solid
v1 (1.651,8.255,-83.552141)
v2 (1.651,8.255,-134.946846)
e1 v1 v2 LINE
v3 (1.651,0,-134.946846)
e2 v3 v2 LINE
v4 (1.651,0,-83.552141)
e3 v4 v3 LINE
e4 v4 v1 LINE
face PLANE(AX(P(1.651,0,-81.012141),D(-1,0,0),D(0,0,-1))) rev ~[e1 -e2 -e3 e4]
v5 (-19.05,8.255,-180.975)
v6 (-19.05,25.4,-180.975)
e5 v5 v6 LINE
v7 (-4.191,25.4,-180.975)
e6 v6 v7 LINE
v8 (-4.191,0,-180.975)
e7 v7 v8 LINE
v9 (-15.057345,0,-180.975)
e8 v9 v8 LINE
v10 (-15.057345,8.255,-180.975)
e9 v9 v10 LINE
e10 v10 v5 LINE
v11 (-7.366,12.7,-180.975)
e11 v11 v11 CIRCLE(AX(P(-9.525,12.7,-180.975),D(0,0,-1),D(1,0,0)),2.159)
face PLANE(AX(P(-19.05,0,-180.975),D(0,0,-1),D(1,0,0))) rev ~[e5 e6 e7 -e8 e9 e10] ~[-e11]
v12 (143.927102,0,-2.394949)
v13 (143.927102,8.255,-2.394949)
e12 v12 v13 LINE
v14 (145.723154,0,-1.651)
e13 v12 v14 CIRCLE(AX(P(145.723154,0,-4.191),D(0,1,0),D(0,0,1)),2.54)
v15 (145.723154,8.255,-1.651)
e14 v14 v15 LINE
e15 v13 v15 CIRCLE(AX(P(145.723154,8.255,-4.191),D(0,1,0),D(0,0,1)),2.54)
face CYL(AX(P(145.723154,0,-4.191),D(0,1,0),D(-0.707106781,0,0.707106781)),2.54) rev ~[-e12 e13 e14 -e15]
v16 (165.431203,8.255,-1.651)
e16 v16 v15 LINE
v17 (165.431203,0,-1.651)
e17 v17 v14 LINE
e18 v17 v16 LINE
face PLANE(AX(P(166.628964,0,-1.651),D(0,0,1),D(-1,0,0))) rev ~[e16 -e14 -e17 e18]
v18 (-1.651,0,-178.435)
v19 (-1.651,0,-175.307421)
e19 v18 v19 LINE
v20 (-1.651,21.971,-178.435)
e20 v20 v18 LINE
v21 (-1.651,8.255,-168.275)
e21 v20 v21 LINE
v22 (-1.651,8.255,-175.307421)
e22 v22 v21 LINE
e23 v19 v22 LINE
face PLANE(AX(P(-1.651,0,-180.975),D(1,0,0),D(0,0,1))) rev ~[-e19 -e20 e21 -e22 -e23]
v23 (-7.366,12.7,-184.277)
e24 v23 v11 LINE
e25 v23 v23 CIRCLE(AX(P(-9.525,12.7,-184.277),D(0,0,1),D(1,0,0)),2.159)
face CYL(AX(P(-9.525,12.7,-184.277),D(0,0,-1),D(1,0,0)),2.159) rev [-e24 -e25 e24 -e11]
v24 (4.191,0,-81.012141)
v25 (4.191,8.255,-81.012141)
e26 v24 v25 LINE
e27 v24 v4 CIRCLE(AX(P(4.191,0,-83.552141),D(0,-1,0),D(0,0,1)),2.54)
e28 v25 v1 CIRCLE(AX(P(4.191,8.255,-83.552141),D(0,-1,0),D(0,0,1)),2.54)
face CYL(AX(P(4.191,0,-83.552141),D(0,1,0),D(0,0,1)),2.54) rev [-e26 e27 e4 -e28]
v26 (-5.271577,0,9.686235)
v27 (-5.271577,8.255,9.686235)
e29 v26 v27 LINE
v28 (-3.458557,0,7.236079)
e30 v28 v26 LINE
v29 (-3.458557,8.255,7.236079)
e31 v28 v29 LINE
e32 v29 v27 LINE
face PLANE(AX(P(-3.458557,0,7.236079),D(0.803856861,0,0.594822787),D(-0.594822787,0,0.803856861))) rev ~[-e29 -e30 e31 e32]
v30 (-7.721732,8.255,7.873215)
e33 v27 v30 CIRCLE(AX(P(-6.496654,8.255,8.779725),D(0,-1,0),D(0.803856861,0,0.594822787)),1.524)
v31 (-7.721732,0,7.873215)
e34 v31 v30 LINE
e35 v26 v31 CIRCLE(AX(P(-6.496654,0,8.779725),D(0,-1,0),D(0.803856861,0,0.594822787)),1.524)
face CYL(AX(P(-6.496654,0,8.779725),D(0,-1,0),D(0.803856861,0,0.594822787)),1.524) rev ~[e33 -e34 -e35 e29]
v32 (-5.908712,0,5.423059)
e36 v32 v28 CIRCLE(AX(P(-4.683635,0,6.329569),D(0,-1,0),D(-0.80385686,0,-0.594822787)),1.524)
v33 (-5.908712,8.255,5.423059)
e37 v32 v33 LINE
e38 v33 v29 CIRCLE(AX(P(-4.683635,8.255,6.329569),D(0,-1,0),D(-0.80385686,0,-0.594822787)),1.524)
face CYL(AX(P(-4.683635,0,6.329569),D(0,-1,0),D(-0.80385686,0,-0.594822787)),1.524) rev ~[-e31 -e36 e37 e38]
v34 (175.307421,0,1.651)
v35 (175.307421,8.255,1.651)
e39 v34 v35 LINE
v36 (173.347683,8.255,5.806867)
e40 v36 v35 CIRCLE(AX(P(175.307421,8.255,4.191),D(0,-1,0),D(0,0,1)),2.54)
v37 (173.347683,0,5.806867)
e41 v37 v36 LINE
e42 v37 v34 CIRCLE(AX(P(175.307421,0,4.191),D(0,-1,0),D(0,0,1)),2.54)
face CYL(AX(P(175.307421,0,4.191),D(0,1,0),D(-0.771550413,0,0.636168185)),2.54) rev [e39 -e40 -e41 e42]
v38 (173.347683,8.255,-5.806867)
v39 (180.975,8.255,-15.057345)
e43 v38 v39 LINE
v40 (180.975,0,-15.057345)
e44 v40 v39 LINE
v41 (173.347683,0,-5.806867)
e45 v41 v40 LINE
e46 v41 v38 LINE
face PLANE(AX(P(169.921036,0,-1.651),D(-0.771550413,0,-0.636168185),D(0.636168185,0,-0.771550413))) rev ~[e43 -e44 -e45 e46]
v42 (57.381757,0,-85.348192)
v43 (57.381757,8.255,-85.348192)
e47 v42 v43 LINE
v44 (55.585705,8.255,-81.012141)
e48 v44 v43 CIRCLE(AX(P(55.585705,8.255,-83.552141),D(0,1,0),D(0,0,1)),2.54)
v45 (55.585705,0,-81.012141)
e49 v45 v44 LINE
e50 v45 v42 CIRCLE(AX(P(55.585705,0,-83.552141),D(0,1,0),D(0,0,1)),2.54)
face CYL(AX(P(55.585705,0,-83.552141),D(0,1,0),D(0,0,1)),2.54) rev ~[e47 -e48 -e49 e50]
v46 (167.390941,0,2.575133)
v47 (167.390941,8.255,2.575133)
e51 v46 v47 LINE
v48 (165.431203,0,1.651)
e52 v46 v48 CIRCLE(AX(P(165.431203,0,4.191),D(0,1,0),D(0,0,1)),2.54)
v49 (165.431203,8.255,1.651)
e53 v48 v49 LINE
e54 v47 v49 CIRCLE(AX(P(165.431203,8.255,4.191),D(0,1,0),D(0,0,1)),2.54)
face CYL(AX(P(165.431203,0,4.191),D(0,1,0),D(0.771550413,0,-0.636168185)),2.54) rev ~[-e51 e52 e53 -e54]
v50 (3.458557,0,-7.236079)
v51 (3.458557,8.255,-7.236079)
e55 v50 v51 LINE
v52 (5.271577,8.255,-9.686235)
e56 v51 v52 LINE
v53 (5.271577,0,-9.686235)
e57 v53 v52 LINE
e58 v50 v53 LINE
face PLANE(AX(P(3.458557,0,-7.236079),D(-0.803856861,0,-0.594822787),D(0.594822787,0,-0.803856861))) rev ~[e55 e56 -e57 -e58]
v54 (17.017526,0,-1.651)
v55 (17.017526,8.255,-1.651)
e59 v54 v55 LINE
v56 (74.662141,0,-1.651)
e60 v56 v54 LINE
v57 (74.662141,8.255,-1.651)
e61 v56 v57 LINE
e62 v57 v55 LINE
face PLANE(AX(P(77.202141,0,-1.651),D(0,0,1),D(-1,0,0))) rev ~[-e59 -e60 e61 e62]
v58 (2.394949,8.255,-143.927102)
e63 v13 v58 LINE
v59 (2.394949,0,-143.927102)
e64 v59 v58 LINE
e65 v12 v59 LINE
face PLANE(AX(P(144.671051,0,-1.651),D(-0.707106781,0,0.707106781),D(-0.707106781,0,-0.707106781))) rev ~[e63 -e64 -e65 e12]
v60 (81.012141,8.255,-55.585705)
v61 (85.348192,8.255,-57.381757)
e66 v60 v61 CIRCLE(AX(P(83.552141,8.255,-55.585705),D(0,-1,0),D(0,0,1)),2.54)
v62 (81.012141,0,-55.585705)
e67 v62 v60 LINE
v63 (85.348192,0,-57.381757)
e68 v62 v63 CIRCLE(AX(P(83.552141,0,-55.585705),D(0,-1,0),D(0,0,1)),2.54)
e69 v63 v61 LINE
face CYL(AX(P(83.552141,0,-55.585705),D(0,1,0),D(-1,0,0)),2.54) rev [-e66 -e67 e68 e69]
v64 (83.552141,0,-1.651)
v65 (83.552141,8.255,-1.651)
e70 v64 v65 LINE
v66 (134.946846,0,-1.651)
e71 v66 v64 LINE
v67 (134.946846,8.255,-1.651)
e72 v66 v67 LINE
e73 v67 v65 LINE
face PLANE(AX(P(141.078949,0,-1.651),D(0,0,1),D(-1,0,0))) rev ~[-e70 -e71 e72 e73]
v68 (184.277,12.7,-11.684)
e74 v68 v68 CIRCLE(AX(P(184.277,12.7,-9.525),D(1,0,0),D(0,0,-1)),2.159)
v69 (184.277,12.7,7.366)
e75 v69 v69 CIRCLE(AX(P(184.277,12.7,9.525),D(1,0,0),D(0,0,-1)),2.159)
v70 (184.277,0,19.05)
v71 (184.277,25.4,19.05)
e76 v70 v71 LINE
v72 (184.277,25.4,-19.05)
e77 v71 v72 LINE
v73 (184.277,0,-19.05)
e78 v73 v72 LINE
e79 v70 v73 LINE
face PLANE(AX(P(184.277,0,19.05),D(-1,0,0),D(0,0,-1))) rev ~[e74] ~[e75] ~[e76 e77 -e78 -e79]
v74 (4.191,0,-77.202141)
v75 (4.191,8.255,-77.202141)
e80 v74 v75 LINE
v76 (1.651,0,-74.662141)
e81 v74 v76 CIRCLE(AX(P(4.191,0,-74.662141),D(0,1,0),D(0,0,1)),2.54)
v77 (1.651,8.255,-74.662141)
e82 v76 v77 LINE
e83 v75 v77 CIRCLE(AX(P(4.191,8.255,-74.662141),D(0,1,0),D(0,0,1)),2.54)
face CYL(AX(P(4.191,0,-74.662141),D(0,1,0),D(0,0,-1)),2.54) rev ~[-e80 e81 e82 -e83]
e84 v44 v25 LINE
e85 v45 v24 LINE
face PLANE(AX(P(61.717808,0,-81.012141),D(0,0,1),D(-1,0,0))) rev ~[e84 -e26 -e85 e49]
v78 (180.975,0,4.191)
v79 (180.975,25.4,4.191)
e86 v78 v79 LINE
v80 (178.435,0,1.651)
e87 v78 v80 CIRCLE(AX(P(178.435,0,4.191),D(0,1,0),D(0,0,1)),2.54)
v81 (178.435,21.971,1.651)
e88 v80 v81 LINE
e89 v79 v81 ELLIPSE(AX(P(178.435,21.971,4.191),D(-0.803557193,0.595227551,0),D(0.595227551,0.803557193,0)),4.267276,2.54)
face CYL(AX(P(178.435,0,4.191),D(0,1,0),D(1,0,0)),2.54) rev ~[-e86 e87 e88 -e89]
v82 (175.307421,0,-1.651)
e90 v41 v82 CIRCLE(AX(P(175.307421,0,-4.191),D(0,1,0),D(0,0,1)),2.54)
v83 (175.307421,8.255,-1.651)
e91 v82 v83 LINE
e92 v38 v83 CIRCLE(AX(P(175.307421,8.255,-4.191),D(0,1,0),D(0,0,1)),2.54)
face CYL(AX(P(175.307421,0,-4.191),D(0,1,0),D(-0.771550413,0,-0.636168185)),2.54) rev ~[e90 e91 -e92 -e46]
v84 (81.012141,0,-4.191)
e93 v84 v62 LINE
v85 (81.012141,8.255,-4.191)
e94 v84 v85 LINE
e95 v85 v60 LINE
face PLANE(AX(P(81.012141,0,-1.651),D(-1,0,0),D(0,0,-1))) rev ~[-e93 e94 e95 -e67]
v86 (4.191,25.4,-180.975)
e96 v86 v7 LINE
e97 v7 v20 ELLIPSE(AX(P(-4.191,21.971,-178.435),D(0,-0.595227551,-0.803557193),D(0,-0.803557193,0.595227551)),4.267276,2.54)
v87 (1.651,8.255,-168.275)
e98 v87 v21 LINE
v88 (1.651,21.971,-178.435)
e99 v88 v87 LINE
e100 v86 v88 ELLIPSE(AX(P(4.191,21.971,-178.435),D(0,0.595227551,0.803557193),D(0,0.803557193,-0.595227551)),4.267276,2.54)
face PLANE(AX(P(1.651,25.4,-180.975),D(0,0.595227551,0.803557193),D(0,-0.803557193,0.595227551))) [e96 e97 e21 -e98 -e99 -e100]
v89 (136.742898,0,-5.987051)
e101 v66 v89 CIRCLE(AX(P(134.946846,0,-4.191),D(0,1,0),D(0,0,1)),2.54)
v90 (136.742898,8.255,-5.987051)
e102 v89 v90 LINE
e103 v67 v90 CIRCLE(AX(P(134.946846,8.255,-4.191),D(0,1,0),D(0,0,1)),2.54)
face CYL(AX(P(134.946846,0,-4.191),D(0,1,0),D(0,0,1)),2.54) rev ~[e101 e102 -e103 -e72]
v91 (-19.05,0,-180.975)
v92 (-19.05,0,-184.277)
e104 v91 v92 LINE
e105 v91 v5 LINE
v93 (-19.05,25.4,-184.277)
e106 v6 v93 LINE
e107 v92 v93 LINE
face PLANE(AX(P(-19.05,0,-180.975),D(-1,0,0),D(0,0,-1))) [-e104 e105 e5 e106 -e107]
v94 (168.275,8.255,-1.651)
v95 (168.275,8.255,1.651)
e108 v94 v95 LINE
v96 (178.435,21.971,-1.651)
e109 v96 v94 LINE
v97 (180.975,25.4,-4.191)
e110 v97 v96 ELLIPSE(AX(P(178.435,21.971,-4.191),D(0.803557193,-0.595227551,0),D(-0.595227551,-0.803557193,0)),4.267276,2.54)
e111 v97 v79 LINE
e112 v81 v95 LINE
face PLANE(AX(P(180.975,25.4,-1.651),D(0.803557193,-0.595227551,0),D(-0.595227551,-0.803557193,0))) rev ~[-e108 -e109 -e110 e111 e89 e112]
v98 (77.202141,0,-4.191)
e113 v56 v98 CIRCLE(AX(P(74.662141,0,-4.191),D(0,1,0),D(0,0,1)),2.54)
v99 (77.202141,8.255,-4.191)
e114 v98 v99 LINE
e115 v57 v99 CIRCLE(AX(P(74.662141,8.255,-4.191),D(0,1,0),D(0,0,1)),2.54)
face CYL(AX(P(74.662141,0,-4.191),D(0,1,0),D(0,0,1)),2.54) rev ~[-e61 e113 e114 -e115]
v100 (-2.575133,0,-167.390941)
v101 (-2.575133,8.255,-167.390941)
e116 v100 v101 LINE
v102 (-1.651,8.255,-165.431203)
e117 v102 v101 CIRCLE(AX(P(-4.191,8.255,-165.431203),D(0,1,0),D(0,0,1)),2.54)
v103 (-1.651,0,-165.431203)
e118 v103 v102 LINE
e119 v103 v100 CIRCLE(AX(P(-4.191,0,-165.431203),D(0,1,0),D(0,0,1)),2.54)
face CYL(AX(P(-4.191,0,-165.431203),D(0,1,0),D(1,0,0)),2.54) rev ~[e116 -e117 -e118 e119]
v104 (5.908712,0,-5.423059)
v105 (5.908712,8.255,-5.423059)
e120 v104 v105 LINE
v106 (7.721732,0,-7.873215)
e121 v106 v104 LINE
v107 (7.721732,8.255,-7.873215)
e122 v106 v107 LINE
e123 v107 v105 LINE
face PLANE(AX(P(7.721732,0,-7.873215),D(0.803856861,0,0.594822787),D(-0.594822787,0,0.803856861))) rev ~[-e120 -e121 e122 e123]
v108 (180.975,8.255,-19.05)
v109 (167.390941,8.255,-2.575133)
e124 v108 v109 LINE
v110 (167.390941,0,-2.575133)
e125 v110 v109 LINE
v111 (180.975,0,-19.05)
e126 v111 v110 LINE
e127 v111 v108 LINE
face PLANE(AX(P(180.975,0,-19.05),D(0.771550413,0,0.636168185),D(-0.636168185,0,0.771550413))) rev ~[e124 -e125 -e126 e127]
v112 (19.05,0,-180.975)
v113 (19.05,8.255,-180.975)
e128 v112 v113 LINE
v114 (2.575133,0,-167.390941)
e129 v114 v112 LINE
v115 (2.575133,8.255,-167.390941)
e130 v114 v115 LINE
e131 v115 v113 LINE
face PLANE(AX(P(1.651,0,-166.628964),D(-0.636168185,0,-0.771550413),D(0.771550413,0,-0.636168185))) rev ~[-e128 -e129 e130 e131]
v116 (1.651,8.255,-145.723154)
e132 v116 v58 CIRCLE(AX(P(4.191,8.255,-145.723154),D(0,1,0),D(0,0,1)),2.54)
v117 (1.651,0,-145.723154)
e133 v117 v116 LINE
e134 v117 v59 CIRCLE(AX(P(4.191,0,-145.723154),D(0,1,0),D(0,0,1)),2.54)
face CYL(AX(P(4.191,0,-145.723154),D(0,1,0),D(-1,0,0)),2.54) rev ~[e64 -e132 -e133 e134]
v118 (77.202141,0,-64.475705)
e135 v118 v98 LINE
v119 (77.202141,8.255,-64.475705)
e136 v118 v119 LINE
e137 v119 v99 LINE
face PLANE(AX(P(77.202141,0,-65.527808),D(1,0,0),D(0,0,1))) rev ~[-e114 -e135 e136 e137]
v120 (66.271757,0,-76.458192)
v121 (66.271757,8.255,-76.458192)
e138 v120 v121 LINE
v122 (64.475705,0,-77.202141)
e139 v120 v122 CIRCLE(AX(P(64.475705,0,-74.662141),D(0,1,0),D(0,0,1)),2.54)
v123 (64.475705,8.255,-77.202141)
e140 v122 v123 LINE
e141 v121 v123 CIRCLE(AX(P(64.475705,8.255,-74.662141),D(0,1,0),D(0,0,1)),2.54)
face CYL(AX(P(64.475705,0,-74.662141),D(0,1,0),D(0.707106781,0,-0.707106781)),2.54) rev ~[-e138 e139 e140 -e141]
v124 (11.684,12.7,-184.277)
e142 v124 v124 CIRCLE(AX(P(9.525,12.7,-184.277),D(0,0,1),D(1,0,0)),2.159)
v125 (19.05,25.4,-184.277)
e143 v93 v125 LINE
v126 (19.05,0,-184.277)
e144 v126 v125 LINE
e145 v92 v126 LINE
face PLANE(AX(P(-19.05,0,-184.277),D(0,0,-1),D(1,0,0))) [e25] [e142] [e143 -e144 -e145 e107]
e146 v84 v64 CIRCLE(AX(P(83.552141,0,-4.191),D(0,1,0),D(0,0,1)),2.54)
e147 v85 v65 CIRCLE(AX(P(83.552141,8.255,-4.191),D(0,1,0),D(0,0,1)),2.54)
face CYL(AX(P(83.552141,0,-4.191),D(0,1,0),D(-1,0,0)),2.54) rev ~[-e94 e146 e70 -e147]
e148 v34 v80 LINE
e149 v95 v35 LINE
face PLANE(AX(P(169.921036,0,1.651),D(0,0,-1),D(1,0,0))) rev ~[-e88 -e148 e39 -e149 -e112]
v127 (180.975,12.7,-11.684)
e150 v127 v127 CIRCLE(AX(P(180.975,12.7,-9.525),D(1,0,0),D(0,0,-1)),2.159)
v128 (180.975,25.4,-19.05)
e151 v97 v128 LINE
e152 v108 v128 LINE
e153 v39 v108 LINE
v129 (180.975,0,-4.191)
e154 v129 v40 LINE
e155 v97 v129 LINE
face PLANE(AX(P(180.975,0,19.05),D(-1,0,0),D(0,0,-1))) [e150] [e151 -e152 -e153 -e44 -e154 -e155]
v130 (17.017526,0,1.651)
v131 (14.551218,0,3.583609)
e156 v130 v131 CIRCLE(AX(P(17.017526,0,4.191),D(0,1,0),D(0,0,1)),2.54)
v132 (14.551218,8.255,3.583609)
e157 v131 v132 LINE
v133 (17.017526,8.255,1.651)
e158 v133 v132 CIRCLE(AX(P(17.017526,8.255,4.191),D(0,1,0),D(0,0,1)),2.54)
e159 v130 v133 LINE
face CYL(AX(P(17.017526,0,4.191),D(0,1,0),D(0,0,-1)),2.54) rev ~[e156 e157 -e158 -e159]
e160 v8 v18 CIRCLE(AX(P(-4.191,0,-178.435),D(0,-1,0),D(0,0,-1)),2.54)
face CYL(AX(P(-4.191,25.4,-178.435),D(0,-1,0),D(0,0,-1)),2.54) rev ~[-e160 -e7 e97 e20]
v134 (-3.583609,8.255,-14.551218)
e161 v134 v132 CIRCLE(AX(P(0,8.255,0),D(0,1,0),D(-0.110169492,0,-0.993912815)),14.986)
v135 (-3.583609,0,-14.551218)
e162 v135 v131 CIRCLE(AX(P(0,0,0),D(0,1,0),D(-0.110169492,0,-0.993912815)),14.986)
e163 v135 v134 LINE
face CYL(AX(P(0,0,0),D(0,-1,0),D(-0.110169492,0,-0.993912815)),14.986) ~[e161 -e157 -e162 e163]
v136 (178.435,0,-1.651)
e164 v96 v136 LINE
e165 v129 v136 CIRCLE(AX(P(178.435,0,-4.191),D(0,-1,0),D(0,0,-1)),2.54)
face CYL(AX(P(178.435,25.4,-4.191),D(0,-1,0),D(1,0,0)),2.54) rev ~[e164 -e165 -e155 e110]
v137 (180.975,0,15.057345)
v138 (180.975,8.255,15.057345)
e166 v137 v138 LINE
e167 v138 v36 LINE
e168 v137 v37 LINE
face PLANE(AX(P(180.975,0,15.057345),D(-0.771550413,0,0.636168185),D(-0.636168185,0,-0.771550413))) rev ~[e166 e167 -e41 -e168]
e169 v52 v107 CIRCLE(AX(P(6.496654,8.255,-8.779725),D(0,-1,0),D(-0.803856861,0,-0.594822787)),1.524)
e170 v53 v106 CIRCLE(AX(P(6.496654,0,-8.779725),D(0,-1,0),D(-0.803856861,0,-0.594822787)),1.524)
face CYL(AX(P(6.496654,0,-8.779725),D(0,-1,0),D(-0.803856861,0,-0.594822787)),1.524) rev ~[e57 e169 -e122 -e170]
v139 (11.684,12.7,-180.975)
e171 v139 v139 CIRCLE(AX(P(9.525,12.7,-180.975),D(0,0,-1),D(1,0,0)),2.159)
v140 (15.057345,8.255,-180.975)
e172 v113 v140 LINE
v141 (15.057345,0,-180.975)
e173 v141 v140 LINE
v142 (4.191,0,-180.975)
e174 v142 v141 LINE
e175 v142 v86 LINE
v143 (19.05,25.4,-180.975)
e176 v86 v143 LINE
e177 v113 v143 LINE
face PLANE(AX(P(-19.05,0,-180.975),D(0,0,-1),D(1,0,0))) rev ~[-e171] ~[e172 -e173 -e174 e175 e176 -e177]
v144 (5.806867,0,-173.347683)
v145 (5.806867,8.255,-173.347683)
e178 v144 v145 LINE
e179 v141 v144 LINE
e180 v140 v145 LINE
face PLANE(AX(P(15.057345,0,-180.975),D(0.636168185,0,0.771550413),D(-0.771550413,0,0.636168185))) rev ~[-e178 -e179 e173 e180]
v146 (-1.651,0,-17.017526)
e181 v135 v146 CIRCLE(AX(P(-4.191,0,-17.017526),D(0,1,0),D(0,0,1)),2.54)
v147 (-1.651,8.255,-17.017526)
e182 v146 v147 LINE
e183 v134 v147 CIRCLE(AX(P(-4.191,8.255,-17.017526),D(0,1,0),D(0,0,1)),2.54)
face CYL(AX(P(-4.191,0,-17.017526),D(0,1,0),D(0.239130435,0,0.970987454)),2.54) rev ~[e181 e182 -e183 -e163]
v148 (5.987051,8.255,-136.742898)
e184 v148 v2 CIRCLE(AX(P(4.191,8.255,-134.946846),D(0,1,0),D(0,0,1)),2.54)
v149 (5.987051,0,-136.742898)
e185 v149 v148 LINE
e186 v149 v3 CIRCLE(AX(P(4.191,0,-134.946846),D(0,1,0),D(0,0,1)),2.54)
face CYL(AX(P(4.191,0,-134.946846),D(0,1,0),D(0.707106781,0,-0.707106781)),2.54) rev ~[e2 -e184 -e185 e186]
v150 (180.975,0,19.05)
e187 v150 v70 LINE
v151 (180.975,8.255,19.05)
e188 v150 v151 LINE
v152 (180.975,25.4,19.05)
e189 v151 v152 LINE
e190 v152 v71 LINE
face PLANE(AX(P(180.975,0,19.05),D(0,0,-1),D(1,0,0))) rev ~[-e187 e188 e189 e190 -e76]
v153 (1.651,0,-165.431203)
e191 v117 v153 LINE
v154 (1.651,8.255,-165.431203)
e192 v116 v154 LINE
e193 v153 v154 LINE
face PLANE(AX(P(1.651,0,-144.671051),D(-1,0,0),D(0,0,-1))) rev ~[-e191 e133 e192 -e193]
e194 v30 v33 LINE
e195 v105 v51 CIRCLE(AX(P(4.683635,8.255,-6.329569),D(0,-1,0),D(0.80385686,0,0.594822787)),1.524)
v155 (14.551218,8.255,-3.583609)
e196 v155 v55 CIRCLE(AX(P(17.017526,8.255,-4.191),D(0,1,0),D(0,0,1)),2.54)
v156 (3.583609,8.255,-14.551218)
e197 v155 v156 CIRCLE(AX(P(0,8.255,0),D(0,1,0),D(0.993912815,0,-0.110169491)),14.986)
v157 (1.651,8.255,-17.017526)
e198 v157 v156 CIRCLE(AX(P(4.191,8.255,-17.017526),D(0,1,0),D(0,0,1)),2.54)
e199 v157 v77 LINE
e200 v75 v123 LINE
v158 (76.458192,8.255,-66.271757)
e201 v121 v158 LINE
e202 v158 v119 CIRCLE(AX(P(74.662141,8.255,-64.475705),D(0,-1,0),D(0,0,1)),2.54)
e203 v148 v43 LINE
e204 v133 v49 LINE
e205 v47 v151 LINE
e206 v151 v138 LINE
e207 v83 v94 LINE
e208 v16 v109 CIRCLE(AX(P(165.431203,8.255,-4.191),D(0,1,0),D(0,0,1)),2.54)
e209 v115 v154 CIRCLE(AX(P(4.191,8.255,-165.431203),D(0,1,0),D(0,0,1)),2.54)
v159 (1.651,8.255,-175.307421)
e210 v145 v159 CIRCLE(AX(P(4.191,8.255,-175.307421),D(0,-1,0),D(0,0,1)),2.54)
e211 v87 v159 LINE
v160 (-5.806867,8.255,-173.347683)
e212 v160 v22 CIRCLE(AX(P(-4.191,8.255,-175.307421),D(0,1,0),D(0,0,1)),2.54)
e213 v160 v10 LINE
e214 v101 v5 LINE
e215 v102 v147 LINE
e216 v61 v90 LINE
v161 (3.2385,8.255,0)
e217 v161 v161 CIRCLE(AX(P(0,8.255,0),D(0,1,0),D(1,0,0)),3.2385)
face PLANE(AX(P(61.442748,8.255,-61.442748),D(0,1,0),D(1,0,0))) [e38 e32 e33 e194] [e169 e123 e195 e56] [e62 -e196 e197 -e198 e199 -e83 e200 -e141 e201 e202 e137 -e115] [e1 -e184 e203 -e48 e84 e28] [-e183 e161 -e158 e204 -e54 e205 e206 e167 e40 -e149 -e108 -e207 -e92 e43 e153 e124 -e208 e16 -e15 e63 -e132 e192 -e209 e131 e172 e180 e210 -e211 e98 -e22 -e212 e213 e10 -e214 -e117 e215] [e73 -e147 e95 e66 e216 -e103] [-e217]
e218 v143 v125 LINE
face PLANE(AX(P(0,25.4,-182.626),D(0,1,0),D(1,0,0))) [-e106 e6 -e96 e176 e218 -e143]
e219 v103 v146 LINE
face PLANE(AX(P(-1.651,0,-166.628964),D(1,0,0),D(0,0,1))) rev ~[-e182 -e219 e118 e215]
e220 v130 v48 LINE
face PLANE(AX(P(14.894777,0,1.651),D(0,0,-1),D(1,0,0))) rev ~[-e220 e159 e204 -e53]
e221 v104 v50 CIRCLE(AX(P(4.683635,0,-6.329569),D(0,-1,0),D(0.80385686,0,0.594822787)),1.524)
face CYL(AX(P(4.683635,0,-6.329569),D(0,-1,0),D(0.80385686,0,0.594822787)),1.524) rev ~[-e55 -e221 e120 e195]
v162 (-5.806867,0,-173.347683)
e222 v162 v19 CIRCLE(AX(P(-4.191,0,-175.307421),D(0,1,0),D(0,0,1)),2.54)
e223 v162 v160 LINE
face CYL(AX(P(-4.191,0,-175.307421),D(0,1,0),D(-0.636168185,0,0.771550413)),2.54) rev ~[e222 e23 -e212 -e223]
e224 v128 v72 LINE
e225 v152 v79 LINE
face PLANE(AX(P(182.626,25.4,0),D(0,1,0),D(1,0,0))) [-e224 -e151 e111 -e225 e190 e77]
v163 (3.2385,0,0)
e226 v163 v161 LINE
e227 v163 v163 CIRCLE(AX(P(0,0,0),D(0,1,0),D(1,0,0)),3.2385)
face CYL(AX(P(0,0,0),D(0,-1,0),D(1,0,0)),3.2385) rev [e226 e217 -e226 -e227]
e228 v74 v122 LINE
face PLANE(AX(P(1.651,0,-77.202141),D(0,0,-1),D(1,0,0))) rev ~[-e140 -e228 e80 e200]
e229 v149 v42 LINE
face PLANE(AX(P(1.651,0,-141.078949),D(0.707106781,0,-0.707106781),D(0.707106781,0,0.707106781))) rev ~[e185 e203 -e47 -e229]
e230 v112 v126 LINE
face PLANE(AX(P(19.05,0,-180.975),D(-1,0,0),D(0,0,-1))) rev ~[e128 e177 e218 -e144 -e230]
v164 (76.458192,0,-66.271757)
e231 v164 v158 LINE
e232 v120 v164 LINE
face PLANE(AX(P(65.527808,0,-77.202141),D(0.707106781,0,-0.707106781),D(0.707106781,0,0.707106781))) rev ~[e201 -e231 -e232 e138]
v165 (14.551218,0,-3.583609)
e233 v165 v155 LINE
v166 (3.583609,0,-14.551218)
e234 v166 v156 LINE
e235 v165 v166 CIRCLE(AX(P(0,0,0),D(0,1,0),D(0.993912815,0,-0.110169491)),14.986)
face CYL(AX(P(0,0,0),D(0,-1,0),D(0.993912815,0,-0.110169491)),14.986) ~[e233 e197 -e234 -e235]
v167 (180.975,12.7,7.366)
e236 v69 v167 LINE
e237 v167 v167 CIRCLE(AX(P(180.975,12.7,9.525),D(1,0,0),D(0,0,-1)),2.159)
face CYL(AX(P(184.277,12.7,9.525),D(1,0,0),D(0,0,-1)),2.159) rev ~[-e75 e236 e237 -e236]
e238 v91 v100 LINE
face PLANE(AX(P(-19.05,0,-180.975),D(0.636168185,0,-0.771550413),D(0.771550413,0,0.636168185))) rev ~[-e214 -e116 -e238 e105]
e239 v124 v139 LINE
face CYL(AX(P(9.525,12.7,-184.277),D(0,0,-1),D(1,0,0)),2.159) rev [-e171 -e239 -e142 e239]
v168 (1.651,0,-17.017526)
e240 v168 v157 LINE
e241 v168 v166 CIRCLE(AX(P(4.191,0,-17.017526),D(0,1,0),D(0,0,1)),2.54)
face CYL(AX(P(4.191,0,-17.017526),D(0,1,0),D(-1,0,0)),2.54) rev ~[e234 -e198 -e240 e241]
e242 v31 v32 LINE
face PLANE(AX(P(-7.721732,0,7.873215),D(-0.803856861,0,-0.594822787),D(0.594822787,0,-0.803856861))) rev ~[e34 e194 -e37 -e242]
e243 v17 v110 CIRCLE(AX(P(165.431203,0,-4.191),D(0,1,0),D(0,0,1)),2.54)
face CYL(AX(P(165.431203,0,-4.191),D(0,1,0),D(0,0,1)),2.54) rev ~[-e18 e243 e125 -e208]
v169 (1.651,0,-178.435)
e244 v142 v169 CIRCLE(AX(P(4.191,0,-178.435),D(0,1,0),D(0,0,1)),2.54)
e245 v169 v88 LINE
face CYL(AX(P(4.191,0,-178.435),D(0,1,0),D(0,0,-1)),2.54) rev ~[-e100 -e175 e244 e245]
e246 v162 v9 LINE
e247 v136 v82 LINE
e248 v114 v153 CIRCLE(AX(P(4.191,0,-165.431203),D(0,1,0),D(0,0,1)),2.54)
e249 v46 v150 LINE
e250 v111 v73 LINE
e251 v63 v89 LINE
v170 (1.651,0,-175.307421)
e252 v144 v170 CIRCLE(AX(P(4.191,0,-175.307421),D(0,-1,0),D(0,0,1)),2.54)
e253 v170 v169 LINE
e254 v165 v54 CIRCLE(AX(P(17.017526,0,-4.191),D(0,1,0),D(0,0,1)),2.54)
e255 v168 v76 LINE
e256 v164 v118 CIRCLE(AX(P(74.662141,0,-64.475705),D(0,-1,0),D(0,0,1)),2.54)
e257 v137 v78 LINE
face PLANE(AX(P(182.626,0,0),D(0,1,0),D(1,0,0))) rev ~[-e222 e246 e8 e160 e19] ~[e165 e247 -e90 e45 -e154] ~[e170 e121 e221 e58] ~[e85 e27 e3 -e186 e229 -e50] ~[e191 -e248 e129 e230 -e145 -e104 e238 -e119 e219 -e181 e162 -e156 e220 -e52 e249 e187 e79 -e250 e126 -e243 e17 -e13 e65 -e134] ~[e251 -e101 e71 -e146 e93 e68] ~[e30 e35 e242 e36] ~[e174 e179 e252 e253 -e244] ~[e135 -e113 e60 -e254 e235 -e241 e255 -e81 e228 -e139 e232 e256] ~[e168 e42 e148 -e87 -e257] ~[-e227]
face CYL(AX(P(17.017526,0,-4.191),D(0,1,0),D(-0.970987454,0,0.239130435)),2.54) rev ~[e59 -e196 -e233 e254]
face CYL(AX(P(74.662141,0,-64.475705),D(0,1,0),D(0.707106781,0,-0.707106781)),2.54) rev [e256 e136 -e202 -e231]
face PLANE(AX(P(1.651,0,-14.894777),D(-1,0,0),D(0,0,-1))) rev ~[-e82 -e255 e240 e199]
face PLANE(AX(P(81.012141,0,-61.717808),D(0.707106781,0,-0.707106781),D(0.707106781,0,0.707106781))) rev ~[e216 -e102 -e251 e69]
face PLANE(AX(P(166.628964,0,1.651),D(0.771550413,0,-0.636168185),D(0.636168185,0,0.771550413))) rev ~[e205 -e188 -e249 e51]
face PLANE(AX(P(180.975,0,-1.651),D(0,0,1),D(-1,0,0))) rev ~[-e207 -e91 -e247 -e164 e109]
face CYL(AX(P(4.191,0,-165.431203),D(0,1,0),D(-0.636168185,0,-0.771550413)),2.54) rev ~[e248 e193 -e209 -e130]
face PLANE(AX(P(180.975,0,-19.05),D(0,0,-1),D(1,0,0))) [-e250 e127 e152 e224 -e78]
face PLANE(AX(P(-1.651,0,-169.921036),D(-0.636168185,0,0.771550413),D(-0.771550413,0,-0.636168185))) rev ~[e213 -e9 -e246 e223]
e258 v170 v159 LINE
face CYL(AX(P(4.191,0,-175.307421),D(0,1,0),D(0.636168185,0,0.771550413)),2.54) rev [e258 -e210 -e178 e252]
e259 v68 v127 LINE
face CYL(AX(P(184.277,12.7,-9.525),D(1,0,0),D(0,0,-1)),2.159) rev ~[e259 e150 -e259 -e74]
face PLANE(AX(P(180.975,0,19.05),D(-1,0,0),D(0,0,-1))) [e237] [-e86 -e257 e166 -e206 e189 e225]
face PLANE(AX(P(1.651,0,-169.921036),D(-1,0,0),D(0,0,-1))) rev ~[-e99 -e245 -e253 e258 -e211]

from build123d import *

# Parameters (mm, degrees)
SKETCH1_R           = 3.2385
BOSS_EXTRUDE1_DEPTH = 8.255
SKETCH3_W           = 3.302
SKETCH3_H           = 38.1
SKETCH3_W_2         = 38.1
SKETCH3_H_2         = 3.302
BOSS_EXTRUDE3_DEPTH = 25.4
SKETCH5_R           = 2.159
CUT_EXTRUDE1_DEPTH  = 204.327
SKETCH6_W           = 12.7
SKETCH6_H           = 3.302
BOSS_EXTRUDE5_DEPTH = 25.4
CUT_EXTRUDE2_DEPTH  = 25.4
SKETCH8_W           = 3.302
SKETCH8_H           = 12.7
BOSS_EXTRUDE6_DEPTH = 25.4
CUT_EXTRUDE3_DEPTH  = 25.4
FILLET1_R           = 2.54


with BuildPart() as part:
    # Sketch1 → Boss-Extrude1 (new body)
    with BuildSketch(Plane(origin=(0, 0, 0), x_dir=(1, 0, 0), z_dir=(0, 1, 0))):
        with BuildLine():
            Line((-1.651, 166.628963684), (-1.651, 14.89477744))
            ThreePointArc((-1.651, 14.89477744), (-10.596702223, -10.596702223), (14.89477744, -1.651))
            Line((14.89477744, -1.651), (166.628963684, -1.651))
            Line((166.628963684, -1.651), (180.975, -19.05))
            Line((180.975, -19.05), (180.975, -15.057345133))
            Line((180.975, -15.057345133), (169.921036316, -1.651))
            Line((169.921036316, -1.651), (180.975, -1.651))
            Line((180.975, -1.651), (180.975, 1.651))
            Line((180.975, 1.651), (169.921036316, 1.651))
            Line((169.921036316, 1.651), (180.975, 15.057345133))
            Line((180.975, 15.057345133), (180.975, 19.05))
            Line((180.975, 19.05), (166.628963684, 1.651))
            Line((166.628963684, 1.651), (144.671051224, 1.651))
            Line((144.671051224, 1.651), (1.651, 144.671051224))
            Line((1.651, 144.671051224), (1.651, 166.628963684))
            Line((1.651, 166.628963684), (19.05, 180.975))
            Line((19.05, 180.975), (15.057345133, 180.975))
            Line((15.057345133, 180.975), (1.651, 169.921036316))
            Line((1.651, 169.921036316), (1.651, 180.975))
            Line((1.651, 180.975), (-1.651, 180.975))
            Line((-1.651, 180.975), (-1.651, 169.921036316))
            Line((-1.651, 169.921036316), (-15.057345133, 180.975))
            Line((-15.057345133, 180.975), (-19.05, 180.975))
            Line((-19.05, 180.975), (-1.651, 166.628963684))
        make_face()
        with BuildLine():
            Line((-7.721732332, -7.873214705), (-5.908712478, -5.423058993))
            ThreePointArc((-5.908712478, -5.423058993), (-3.777124696, -5.104491065), (-3.458556767, -7.236078848))
            Line((-3.458556767, -7.236078848), (-5.271576621, -9.686234559))
            ThreePointArc((-5.271576621, -9.686234559), (-7.403164404, -10.004802487), (-7.721732332, -7.873214705))
        make_face(mode=Mode.SUBTRACT)
        Circle(SKETCH1_R, mode=Mode.SUBTRACT)
        with BuildLine():
            ThreePointArc((5.908712478, 5.423058993), (3.777124696, 5.104491065), (3.458556767, 7.236078848))
            Line((3.458556767, 7.236078848), (5.271576621, 9.686234559))
            ThreePointArc((5.271576621, 9.686234559), (7.403164404, 10.004802487), (7.721732332, 7.873214705))
            Line((7.721732332, 7.873214705), (5.908712478, 5.423058993))
        make_face(mode=Mode.SUBTRACT)
        with BuildLine():
            Line((77.202140867, 1.651), (14.89477744, 1.651))
            ThreePointArc((14.89477744, 1.651), (10.596702223, 10.596702223), (1.651, 14.89477744))
            Line((1.651, 14.89477744), (1.651, 77.202140867))
            Line((1.651, 77.202140867), (65.527807909, 77.202140867))
            Line((65.527807909, 77.202140867), (77.202140867, 65.527807909))
            Line((77.202140867, 65.527807909), (77.202140867, 1.651))
        make_face(mode=Mode.SUBTRACT)
        Polygon((141.078948776, 1.651), (81.012140867, 1.651), (81.012140867, 61.717807909), align=None, mode=Mode.SUBTRACT)
        Polygon((1.651, 81.012140867), (1.651, 141.078948776), (61.717807909, 81.012140867), align=None, mode=Mode.SUBTRACT)
    extrude(amount=BOSS_EXTRUDE1_DEPTH)

    # Sketch3 → Boss-Extrude3 (add)
    with BuildSketch(Plane(origin=(0, 0, 0), x_dir=(1, 0, 0), z_dir=(0, 1, 0))):
        with Locations((182.626, 0)):
            Rectangle(SKETCH3_W, SKETCH3_H)
        with Locations((0, 182.626)):
            Rectangle(SKETCH3_W_2, SKETCH3_H_2)
    extrude(amount=BOSS_EXTRUDE3_DEPTH)

    # Sketch5 → Cut-Extrude1 (cut, through all)
    with BuildSketch(Plane(origin=(184.277, 0, 0), x_dir=(0, 0, -1), z_dir=(1, 0, 0))):
        with Locations((-9.525, 12.7)):
            Circle(SKETCH5_R)
        with Locations((9.525, 12.7)):
            Circle(SKETCH5_R)
    cut_extrude1 = extrude(amount=-CUT_EXTRUDE1_DEPTH, mode=Mode.SUBTRACT)

    # Mirror1: Cut-Extrude1 across plane
    add(cut_extrude1.mirror(Plane(origin=(0, 0, 0), x_dir=(-0.707106781, 0, 0.707106781), z_dir=(0.707106781, 0, 0.707106781))), mode=Mode.SUBTRACT)

    # Sketch6 → Boss-Extrude5 (add)
    with BuildSketch(Plane(origin=(0, 0, 0), x_dir=(1, 0, 0), z_dir=(0, 1, 0))):
        with Locations((174.625, 0)):
            Rectangle(SKETCH6_W, SKETCH6_H)
    extrude(amount=BOSS_EXTRUDE5_DEPTH)

    # Sketch7 → Cut-Extrude2 (cut)
    with BuildSketch(Plane(origin=(0, 0, -1.651), x_dir=(-1, 0, 0), z_dir=(0, 0, -1))):
        Polygon((-180.975, 25.4), (-168.275, 8.255), (-168.275, 25.4), align=None)
    extrude(amount=-CUT_EXTRUDE2_DEPTH, mode=Mode.SUBTRACT)

    # Sketch8 → Boss-Extrude6 (add)
    with BuildSketch(Plane(origin=(0, 0, 0), x_dir=(1, 0, 0), z_dir=(0, 1, 0))):
        with Locations((0, 174.625)):
            Rectangle(SKETCH8_W, SKETCH8_H)
    extrude(amount=BOSS_EXTRUDE6_DEPTH)

    # Sketch9 → Cut-Extrude3 (cut)
    with BuildSketch(Plane(origin=(1.651, 0, 0), x_dir=(0, 0, -1), z_dir=(1, 0, 0))):
        Polygon((180.975, 25.4), (168.275, 8.255), (168.275, 25.4), align=None)
    extrude(amount=-CUT_EXTRUDE3_DEPTH, mode=Mode.SUBTRACT)

    # Fillet1
    fillet1_edges = [part.edges().sort_by_distance(p)[0] for p in [
        (-1.651, 4.1275, -166.628963684),
        (-1.651, 4.1275, -169.921036316),
        (-1.651, 12.7, -180.975),
        (1.651, 12.7, -180.975),
        (1.651, 4.1275, -169.921036316),
        (1.651, 4.1275, -166.628963684),
        (1.651, 4.1275, -144.671051224),
        (144.671051224, 4.1275, -1.651),
        (166.628963684, 4.1275, -1.651),
        (169.921036316, 4.1275, -1.651),
        (180.975, 12.7, -1.651),
        (180.975, 12.7, 1.651),
        (169.921036316, 4.1275, 1.651),
        (166.628963684, 4.1275, 1.651),
        (14.89477744, 4.1275, 1.651),
        (-1.651, 4.1275, -14.89477744),
        (61.717807909, 4.1275, -81.012140867),
        (1.651, 4.1275, -141.078948776),
        (1.651, 4.1275, -81.012140867),
        (77.202140867, 4.1275, -1.651),
        (77.202140867, 4.1275, -65.527807909),
        (65.527807909, 4.1275, -77.202140867),
        (1.651, 4.1275, -77.202140867),
        (1.651, 4.1275, -14.89477744),
        (14.89477744, 4.1275, -1.651),
        (141.078948776, 4.1275, -1.651),
        (81.012140867, 4.1275, -61.717807909),
        (81.012140867, 4.1275, -1.651),
    ]]
    fillet(fillet1_edges, radius=FILLET1_R)


solid = part.part
